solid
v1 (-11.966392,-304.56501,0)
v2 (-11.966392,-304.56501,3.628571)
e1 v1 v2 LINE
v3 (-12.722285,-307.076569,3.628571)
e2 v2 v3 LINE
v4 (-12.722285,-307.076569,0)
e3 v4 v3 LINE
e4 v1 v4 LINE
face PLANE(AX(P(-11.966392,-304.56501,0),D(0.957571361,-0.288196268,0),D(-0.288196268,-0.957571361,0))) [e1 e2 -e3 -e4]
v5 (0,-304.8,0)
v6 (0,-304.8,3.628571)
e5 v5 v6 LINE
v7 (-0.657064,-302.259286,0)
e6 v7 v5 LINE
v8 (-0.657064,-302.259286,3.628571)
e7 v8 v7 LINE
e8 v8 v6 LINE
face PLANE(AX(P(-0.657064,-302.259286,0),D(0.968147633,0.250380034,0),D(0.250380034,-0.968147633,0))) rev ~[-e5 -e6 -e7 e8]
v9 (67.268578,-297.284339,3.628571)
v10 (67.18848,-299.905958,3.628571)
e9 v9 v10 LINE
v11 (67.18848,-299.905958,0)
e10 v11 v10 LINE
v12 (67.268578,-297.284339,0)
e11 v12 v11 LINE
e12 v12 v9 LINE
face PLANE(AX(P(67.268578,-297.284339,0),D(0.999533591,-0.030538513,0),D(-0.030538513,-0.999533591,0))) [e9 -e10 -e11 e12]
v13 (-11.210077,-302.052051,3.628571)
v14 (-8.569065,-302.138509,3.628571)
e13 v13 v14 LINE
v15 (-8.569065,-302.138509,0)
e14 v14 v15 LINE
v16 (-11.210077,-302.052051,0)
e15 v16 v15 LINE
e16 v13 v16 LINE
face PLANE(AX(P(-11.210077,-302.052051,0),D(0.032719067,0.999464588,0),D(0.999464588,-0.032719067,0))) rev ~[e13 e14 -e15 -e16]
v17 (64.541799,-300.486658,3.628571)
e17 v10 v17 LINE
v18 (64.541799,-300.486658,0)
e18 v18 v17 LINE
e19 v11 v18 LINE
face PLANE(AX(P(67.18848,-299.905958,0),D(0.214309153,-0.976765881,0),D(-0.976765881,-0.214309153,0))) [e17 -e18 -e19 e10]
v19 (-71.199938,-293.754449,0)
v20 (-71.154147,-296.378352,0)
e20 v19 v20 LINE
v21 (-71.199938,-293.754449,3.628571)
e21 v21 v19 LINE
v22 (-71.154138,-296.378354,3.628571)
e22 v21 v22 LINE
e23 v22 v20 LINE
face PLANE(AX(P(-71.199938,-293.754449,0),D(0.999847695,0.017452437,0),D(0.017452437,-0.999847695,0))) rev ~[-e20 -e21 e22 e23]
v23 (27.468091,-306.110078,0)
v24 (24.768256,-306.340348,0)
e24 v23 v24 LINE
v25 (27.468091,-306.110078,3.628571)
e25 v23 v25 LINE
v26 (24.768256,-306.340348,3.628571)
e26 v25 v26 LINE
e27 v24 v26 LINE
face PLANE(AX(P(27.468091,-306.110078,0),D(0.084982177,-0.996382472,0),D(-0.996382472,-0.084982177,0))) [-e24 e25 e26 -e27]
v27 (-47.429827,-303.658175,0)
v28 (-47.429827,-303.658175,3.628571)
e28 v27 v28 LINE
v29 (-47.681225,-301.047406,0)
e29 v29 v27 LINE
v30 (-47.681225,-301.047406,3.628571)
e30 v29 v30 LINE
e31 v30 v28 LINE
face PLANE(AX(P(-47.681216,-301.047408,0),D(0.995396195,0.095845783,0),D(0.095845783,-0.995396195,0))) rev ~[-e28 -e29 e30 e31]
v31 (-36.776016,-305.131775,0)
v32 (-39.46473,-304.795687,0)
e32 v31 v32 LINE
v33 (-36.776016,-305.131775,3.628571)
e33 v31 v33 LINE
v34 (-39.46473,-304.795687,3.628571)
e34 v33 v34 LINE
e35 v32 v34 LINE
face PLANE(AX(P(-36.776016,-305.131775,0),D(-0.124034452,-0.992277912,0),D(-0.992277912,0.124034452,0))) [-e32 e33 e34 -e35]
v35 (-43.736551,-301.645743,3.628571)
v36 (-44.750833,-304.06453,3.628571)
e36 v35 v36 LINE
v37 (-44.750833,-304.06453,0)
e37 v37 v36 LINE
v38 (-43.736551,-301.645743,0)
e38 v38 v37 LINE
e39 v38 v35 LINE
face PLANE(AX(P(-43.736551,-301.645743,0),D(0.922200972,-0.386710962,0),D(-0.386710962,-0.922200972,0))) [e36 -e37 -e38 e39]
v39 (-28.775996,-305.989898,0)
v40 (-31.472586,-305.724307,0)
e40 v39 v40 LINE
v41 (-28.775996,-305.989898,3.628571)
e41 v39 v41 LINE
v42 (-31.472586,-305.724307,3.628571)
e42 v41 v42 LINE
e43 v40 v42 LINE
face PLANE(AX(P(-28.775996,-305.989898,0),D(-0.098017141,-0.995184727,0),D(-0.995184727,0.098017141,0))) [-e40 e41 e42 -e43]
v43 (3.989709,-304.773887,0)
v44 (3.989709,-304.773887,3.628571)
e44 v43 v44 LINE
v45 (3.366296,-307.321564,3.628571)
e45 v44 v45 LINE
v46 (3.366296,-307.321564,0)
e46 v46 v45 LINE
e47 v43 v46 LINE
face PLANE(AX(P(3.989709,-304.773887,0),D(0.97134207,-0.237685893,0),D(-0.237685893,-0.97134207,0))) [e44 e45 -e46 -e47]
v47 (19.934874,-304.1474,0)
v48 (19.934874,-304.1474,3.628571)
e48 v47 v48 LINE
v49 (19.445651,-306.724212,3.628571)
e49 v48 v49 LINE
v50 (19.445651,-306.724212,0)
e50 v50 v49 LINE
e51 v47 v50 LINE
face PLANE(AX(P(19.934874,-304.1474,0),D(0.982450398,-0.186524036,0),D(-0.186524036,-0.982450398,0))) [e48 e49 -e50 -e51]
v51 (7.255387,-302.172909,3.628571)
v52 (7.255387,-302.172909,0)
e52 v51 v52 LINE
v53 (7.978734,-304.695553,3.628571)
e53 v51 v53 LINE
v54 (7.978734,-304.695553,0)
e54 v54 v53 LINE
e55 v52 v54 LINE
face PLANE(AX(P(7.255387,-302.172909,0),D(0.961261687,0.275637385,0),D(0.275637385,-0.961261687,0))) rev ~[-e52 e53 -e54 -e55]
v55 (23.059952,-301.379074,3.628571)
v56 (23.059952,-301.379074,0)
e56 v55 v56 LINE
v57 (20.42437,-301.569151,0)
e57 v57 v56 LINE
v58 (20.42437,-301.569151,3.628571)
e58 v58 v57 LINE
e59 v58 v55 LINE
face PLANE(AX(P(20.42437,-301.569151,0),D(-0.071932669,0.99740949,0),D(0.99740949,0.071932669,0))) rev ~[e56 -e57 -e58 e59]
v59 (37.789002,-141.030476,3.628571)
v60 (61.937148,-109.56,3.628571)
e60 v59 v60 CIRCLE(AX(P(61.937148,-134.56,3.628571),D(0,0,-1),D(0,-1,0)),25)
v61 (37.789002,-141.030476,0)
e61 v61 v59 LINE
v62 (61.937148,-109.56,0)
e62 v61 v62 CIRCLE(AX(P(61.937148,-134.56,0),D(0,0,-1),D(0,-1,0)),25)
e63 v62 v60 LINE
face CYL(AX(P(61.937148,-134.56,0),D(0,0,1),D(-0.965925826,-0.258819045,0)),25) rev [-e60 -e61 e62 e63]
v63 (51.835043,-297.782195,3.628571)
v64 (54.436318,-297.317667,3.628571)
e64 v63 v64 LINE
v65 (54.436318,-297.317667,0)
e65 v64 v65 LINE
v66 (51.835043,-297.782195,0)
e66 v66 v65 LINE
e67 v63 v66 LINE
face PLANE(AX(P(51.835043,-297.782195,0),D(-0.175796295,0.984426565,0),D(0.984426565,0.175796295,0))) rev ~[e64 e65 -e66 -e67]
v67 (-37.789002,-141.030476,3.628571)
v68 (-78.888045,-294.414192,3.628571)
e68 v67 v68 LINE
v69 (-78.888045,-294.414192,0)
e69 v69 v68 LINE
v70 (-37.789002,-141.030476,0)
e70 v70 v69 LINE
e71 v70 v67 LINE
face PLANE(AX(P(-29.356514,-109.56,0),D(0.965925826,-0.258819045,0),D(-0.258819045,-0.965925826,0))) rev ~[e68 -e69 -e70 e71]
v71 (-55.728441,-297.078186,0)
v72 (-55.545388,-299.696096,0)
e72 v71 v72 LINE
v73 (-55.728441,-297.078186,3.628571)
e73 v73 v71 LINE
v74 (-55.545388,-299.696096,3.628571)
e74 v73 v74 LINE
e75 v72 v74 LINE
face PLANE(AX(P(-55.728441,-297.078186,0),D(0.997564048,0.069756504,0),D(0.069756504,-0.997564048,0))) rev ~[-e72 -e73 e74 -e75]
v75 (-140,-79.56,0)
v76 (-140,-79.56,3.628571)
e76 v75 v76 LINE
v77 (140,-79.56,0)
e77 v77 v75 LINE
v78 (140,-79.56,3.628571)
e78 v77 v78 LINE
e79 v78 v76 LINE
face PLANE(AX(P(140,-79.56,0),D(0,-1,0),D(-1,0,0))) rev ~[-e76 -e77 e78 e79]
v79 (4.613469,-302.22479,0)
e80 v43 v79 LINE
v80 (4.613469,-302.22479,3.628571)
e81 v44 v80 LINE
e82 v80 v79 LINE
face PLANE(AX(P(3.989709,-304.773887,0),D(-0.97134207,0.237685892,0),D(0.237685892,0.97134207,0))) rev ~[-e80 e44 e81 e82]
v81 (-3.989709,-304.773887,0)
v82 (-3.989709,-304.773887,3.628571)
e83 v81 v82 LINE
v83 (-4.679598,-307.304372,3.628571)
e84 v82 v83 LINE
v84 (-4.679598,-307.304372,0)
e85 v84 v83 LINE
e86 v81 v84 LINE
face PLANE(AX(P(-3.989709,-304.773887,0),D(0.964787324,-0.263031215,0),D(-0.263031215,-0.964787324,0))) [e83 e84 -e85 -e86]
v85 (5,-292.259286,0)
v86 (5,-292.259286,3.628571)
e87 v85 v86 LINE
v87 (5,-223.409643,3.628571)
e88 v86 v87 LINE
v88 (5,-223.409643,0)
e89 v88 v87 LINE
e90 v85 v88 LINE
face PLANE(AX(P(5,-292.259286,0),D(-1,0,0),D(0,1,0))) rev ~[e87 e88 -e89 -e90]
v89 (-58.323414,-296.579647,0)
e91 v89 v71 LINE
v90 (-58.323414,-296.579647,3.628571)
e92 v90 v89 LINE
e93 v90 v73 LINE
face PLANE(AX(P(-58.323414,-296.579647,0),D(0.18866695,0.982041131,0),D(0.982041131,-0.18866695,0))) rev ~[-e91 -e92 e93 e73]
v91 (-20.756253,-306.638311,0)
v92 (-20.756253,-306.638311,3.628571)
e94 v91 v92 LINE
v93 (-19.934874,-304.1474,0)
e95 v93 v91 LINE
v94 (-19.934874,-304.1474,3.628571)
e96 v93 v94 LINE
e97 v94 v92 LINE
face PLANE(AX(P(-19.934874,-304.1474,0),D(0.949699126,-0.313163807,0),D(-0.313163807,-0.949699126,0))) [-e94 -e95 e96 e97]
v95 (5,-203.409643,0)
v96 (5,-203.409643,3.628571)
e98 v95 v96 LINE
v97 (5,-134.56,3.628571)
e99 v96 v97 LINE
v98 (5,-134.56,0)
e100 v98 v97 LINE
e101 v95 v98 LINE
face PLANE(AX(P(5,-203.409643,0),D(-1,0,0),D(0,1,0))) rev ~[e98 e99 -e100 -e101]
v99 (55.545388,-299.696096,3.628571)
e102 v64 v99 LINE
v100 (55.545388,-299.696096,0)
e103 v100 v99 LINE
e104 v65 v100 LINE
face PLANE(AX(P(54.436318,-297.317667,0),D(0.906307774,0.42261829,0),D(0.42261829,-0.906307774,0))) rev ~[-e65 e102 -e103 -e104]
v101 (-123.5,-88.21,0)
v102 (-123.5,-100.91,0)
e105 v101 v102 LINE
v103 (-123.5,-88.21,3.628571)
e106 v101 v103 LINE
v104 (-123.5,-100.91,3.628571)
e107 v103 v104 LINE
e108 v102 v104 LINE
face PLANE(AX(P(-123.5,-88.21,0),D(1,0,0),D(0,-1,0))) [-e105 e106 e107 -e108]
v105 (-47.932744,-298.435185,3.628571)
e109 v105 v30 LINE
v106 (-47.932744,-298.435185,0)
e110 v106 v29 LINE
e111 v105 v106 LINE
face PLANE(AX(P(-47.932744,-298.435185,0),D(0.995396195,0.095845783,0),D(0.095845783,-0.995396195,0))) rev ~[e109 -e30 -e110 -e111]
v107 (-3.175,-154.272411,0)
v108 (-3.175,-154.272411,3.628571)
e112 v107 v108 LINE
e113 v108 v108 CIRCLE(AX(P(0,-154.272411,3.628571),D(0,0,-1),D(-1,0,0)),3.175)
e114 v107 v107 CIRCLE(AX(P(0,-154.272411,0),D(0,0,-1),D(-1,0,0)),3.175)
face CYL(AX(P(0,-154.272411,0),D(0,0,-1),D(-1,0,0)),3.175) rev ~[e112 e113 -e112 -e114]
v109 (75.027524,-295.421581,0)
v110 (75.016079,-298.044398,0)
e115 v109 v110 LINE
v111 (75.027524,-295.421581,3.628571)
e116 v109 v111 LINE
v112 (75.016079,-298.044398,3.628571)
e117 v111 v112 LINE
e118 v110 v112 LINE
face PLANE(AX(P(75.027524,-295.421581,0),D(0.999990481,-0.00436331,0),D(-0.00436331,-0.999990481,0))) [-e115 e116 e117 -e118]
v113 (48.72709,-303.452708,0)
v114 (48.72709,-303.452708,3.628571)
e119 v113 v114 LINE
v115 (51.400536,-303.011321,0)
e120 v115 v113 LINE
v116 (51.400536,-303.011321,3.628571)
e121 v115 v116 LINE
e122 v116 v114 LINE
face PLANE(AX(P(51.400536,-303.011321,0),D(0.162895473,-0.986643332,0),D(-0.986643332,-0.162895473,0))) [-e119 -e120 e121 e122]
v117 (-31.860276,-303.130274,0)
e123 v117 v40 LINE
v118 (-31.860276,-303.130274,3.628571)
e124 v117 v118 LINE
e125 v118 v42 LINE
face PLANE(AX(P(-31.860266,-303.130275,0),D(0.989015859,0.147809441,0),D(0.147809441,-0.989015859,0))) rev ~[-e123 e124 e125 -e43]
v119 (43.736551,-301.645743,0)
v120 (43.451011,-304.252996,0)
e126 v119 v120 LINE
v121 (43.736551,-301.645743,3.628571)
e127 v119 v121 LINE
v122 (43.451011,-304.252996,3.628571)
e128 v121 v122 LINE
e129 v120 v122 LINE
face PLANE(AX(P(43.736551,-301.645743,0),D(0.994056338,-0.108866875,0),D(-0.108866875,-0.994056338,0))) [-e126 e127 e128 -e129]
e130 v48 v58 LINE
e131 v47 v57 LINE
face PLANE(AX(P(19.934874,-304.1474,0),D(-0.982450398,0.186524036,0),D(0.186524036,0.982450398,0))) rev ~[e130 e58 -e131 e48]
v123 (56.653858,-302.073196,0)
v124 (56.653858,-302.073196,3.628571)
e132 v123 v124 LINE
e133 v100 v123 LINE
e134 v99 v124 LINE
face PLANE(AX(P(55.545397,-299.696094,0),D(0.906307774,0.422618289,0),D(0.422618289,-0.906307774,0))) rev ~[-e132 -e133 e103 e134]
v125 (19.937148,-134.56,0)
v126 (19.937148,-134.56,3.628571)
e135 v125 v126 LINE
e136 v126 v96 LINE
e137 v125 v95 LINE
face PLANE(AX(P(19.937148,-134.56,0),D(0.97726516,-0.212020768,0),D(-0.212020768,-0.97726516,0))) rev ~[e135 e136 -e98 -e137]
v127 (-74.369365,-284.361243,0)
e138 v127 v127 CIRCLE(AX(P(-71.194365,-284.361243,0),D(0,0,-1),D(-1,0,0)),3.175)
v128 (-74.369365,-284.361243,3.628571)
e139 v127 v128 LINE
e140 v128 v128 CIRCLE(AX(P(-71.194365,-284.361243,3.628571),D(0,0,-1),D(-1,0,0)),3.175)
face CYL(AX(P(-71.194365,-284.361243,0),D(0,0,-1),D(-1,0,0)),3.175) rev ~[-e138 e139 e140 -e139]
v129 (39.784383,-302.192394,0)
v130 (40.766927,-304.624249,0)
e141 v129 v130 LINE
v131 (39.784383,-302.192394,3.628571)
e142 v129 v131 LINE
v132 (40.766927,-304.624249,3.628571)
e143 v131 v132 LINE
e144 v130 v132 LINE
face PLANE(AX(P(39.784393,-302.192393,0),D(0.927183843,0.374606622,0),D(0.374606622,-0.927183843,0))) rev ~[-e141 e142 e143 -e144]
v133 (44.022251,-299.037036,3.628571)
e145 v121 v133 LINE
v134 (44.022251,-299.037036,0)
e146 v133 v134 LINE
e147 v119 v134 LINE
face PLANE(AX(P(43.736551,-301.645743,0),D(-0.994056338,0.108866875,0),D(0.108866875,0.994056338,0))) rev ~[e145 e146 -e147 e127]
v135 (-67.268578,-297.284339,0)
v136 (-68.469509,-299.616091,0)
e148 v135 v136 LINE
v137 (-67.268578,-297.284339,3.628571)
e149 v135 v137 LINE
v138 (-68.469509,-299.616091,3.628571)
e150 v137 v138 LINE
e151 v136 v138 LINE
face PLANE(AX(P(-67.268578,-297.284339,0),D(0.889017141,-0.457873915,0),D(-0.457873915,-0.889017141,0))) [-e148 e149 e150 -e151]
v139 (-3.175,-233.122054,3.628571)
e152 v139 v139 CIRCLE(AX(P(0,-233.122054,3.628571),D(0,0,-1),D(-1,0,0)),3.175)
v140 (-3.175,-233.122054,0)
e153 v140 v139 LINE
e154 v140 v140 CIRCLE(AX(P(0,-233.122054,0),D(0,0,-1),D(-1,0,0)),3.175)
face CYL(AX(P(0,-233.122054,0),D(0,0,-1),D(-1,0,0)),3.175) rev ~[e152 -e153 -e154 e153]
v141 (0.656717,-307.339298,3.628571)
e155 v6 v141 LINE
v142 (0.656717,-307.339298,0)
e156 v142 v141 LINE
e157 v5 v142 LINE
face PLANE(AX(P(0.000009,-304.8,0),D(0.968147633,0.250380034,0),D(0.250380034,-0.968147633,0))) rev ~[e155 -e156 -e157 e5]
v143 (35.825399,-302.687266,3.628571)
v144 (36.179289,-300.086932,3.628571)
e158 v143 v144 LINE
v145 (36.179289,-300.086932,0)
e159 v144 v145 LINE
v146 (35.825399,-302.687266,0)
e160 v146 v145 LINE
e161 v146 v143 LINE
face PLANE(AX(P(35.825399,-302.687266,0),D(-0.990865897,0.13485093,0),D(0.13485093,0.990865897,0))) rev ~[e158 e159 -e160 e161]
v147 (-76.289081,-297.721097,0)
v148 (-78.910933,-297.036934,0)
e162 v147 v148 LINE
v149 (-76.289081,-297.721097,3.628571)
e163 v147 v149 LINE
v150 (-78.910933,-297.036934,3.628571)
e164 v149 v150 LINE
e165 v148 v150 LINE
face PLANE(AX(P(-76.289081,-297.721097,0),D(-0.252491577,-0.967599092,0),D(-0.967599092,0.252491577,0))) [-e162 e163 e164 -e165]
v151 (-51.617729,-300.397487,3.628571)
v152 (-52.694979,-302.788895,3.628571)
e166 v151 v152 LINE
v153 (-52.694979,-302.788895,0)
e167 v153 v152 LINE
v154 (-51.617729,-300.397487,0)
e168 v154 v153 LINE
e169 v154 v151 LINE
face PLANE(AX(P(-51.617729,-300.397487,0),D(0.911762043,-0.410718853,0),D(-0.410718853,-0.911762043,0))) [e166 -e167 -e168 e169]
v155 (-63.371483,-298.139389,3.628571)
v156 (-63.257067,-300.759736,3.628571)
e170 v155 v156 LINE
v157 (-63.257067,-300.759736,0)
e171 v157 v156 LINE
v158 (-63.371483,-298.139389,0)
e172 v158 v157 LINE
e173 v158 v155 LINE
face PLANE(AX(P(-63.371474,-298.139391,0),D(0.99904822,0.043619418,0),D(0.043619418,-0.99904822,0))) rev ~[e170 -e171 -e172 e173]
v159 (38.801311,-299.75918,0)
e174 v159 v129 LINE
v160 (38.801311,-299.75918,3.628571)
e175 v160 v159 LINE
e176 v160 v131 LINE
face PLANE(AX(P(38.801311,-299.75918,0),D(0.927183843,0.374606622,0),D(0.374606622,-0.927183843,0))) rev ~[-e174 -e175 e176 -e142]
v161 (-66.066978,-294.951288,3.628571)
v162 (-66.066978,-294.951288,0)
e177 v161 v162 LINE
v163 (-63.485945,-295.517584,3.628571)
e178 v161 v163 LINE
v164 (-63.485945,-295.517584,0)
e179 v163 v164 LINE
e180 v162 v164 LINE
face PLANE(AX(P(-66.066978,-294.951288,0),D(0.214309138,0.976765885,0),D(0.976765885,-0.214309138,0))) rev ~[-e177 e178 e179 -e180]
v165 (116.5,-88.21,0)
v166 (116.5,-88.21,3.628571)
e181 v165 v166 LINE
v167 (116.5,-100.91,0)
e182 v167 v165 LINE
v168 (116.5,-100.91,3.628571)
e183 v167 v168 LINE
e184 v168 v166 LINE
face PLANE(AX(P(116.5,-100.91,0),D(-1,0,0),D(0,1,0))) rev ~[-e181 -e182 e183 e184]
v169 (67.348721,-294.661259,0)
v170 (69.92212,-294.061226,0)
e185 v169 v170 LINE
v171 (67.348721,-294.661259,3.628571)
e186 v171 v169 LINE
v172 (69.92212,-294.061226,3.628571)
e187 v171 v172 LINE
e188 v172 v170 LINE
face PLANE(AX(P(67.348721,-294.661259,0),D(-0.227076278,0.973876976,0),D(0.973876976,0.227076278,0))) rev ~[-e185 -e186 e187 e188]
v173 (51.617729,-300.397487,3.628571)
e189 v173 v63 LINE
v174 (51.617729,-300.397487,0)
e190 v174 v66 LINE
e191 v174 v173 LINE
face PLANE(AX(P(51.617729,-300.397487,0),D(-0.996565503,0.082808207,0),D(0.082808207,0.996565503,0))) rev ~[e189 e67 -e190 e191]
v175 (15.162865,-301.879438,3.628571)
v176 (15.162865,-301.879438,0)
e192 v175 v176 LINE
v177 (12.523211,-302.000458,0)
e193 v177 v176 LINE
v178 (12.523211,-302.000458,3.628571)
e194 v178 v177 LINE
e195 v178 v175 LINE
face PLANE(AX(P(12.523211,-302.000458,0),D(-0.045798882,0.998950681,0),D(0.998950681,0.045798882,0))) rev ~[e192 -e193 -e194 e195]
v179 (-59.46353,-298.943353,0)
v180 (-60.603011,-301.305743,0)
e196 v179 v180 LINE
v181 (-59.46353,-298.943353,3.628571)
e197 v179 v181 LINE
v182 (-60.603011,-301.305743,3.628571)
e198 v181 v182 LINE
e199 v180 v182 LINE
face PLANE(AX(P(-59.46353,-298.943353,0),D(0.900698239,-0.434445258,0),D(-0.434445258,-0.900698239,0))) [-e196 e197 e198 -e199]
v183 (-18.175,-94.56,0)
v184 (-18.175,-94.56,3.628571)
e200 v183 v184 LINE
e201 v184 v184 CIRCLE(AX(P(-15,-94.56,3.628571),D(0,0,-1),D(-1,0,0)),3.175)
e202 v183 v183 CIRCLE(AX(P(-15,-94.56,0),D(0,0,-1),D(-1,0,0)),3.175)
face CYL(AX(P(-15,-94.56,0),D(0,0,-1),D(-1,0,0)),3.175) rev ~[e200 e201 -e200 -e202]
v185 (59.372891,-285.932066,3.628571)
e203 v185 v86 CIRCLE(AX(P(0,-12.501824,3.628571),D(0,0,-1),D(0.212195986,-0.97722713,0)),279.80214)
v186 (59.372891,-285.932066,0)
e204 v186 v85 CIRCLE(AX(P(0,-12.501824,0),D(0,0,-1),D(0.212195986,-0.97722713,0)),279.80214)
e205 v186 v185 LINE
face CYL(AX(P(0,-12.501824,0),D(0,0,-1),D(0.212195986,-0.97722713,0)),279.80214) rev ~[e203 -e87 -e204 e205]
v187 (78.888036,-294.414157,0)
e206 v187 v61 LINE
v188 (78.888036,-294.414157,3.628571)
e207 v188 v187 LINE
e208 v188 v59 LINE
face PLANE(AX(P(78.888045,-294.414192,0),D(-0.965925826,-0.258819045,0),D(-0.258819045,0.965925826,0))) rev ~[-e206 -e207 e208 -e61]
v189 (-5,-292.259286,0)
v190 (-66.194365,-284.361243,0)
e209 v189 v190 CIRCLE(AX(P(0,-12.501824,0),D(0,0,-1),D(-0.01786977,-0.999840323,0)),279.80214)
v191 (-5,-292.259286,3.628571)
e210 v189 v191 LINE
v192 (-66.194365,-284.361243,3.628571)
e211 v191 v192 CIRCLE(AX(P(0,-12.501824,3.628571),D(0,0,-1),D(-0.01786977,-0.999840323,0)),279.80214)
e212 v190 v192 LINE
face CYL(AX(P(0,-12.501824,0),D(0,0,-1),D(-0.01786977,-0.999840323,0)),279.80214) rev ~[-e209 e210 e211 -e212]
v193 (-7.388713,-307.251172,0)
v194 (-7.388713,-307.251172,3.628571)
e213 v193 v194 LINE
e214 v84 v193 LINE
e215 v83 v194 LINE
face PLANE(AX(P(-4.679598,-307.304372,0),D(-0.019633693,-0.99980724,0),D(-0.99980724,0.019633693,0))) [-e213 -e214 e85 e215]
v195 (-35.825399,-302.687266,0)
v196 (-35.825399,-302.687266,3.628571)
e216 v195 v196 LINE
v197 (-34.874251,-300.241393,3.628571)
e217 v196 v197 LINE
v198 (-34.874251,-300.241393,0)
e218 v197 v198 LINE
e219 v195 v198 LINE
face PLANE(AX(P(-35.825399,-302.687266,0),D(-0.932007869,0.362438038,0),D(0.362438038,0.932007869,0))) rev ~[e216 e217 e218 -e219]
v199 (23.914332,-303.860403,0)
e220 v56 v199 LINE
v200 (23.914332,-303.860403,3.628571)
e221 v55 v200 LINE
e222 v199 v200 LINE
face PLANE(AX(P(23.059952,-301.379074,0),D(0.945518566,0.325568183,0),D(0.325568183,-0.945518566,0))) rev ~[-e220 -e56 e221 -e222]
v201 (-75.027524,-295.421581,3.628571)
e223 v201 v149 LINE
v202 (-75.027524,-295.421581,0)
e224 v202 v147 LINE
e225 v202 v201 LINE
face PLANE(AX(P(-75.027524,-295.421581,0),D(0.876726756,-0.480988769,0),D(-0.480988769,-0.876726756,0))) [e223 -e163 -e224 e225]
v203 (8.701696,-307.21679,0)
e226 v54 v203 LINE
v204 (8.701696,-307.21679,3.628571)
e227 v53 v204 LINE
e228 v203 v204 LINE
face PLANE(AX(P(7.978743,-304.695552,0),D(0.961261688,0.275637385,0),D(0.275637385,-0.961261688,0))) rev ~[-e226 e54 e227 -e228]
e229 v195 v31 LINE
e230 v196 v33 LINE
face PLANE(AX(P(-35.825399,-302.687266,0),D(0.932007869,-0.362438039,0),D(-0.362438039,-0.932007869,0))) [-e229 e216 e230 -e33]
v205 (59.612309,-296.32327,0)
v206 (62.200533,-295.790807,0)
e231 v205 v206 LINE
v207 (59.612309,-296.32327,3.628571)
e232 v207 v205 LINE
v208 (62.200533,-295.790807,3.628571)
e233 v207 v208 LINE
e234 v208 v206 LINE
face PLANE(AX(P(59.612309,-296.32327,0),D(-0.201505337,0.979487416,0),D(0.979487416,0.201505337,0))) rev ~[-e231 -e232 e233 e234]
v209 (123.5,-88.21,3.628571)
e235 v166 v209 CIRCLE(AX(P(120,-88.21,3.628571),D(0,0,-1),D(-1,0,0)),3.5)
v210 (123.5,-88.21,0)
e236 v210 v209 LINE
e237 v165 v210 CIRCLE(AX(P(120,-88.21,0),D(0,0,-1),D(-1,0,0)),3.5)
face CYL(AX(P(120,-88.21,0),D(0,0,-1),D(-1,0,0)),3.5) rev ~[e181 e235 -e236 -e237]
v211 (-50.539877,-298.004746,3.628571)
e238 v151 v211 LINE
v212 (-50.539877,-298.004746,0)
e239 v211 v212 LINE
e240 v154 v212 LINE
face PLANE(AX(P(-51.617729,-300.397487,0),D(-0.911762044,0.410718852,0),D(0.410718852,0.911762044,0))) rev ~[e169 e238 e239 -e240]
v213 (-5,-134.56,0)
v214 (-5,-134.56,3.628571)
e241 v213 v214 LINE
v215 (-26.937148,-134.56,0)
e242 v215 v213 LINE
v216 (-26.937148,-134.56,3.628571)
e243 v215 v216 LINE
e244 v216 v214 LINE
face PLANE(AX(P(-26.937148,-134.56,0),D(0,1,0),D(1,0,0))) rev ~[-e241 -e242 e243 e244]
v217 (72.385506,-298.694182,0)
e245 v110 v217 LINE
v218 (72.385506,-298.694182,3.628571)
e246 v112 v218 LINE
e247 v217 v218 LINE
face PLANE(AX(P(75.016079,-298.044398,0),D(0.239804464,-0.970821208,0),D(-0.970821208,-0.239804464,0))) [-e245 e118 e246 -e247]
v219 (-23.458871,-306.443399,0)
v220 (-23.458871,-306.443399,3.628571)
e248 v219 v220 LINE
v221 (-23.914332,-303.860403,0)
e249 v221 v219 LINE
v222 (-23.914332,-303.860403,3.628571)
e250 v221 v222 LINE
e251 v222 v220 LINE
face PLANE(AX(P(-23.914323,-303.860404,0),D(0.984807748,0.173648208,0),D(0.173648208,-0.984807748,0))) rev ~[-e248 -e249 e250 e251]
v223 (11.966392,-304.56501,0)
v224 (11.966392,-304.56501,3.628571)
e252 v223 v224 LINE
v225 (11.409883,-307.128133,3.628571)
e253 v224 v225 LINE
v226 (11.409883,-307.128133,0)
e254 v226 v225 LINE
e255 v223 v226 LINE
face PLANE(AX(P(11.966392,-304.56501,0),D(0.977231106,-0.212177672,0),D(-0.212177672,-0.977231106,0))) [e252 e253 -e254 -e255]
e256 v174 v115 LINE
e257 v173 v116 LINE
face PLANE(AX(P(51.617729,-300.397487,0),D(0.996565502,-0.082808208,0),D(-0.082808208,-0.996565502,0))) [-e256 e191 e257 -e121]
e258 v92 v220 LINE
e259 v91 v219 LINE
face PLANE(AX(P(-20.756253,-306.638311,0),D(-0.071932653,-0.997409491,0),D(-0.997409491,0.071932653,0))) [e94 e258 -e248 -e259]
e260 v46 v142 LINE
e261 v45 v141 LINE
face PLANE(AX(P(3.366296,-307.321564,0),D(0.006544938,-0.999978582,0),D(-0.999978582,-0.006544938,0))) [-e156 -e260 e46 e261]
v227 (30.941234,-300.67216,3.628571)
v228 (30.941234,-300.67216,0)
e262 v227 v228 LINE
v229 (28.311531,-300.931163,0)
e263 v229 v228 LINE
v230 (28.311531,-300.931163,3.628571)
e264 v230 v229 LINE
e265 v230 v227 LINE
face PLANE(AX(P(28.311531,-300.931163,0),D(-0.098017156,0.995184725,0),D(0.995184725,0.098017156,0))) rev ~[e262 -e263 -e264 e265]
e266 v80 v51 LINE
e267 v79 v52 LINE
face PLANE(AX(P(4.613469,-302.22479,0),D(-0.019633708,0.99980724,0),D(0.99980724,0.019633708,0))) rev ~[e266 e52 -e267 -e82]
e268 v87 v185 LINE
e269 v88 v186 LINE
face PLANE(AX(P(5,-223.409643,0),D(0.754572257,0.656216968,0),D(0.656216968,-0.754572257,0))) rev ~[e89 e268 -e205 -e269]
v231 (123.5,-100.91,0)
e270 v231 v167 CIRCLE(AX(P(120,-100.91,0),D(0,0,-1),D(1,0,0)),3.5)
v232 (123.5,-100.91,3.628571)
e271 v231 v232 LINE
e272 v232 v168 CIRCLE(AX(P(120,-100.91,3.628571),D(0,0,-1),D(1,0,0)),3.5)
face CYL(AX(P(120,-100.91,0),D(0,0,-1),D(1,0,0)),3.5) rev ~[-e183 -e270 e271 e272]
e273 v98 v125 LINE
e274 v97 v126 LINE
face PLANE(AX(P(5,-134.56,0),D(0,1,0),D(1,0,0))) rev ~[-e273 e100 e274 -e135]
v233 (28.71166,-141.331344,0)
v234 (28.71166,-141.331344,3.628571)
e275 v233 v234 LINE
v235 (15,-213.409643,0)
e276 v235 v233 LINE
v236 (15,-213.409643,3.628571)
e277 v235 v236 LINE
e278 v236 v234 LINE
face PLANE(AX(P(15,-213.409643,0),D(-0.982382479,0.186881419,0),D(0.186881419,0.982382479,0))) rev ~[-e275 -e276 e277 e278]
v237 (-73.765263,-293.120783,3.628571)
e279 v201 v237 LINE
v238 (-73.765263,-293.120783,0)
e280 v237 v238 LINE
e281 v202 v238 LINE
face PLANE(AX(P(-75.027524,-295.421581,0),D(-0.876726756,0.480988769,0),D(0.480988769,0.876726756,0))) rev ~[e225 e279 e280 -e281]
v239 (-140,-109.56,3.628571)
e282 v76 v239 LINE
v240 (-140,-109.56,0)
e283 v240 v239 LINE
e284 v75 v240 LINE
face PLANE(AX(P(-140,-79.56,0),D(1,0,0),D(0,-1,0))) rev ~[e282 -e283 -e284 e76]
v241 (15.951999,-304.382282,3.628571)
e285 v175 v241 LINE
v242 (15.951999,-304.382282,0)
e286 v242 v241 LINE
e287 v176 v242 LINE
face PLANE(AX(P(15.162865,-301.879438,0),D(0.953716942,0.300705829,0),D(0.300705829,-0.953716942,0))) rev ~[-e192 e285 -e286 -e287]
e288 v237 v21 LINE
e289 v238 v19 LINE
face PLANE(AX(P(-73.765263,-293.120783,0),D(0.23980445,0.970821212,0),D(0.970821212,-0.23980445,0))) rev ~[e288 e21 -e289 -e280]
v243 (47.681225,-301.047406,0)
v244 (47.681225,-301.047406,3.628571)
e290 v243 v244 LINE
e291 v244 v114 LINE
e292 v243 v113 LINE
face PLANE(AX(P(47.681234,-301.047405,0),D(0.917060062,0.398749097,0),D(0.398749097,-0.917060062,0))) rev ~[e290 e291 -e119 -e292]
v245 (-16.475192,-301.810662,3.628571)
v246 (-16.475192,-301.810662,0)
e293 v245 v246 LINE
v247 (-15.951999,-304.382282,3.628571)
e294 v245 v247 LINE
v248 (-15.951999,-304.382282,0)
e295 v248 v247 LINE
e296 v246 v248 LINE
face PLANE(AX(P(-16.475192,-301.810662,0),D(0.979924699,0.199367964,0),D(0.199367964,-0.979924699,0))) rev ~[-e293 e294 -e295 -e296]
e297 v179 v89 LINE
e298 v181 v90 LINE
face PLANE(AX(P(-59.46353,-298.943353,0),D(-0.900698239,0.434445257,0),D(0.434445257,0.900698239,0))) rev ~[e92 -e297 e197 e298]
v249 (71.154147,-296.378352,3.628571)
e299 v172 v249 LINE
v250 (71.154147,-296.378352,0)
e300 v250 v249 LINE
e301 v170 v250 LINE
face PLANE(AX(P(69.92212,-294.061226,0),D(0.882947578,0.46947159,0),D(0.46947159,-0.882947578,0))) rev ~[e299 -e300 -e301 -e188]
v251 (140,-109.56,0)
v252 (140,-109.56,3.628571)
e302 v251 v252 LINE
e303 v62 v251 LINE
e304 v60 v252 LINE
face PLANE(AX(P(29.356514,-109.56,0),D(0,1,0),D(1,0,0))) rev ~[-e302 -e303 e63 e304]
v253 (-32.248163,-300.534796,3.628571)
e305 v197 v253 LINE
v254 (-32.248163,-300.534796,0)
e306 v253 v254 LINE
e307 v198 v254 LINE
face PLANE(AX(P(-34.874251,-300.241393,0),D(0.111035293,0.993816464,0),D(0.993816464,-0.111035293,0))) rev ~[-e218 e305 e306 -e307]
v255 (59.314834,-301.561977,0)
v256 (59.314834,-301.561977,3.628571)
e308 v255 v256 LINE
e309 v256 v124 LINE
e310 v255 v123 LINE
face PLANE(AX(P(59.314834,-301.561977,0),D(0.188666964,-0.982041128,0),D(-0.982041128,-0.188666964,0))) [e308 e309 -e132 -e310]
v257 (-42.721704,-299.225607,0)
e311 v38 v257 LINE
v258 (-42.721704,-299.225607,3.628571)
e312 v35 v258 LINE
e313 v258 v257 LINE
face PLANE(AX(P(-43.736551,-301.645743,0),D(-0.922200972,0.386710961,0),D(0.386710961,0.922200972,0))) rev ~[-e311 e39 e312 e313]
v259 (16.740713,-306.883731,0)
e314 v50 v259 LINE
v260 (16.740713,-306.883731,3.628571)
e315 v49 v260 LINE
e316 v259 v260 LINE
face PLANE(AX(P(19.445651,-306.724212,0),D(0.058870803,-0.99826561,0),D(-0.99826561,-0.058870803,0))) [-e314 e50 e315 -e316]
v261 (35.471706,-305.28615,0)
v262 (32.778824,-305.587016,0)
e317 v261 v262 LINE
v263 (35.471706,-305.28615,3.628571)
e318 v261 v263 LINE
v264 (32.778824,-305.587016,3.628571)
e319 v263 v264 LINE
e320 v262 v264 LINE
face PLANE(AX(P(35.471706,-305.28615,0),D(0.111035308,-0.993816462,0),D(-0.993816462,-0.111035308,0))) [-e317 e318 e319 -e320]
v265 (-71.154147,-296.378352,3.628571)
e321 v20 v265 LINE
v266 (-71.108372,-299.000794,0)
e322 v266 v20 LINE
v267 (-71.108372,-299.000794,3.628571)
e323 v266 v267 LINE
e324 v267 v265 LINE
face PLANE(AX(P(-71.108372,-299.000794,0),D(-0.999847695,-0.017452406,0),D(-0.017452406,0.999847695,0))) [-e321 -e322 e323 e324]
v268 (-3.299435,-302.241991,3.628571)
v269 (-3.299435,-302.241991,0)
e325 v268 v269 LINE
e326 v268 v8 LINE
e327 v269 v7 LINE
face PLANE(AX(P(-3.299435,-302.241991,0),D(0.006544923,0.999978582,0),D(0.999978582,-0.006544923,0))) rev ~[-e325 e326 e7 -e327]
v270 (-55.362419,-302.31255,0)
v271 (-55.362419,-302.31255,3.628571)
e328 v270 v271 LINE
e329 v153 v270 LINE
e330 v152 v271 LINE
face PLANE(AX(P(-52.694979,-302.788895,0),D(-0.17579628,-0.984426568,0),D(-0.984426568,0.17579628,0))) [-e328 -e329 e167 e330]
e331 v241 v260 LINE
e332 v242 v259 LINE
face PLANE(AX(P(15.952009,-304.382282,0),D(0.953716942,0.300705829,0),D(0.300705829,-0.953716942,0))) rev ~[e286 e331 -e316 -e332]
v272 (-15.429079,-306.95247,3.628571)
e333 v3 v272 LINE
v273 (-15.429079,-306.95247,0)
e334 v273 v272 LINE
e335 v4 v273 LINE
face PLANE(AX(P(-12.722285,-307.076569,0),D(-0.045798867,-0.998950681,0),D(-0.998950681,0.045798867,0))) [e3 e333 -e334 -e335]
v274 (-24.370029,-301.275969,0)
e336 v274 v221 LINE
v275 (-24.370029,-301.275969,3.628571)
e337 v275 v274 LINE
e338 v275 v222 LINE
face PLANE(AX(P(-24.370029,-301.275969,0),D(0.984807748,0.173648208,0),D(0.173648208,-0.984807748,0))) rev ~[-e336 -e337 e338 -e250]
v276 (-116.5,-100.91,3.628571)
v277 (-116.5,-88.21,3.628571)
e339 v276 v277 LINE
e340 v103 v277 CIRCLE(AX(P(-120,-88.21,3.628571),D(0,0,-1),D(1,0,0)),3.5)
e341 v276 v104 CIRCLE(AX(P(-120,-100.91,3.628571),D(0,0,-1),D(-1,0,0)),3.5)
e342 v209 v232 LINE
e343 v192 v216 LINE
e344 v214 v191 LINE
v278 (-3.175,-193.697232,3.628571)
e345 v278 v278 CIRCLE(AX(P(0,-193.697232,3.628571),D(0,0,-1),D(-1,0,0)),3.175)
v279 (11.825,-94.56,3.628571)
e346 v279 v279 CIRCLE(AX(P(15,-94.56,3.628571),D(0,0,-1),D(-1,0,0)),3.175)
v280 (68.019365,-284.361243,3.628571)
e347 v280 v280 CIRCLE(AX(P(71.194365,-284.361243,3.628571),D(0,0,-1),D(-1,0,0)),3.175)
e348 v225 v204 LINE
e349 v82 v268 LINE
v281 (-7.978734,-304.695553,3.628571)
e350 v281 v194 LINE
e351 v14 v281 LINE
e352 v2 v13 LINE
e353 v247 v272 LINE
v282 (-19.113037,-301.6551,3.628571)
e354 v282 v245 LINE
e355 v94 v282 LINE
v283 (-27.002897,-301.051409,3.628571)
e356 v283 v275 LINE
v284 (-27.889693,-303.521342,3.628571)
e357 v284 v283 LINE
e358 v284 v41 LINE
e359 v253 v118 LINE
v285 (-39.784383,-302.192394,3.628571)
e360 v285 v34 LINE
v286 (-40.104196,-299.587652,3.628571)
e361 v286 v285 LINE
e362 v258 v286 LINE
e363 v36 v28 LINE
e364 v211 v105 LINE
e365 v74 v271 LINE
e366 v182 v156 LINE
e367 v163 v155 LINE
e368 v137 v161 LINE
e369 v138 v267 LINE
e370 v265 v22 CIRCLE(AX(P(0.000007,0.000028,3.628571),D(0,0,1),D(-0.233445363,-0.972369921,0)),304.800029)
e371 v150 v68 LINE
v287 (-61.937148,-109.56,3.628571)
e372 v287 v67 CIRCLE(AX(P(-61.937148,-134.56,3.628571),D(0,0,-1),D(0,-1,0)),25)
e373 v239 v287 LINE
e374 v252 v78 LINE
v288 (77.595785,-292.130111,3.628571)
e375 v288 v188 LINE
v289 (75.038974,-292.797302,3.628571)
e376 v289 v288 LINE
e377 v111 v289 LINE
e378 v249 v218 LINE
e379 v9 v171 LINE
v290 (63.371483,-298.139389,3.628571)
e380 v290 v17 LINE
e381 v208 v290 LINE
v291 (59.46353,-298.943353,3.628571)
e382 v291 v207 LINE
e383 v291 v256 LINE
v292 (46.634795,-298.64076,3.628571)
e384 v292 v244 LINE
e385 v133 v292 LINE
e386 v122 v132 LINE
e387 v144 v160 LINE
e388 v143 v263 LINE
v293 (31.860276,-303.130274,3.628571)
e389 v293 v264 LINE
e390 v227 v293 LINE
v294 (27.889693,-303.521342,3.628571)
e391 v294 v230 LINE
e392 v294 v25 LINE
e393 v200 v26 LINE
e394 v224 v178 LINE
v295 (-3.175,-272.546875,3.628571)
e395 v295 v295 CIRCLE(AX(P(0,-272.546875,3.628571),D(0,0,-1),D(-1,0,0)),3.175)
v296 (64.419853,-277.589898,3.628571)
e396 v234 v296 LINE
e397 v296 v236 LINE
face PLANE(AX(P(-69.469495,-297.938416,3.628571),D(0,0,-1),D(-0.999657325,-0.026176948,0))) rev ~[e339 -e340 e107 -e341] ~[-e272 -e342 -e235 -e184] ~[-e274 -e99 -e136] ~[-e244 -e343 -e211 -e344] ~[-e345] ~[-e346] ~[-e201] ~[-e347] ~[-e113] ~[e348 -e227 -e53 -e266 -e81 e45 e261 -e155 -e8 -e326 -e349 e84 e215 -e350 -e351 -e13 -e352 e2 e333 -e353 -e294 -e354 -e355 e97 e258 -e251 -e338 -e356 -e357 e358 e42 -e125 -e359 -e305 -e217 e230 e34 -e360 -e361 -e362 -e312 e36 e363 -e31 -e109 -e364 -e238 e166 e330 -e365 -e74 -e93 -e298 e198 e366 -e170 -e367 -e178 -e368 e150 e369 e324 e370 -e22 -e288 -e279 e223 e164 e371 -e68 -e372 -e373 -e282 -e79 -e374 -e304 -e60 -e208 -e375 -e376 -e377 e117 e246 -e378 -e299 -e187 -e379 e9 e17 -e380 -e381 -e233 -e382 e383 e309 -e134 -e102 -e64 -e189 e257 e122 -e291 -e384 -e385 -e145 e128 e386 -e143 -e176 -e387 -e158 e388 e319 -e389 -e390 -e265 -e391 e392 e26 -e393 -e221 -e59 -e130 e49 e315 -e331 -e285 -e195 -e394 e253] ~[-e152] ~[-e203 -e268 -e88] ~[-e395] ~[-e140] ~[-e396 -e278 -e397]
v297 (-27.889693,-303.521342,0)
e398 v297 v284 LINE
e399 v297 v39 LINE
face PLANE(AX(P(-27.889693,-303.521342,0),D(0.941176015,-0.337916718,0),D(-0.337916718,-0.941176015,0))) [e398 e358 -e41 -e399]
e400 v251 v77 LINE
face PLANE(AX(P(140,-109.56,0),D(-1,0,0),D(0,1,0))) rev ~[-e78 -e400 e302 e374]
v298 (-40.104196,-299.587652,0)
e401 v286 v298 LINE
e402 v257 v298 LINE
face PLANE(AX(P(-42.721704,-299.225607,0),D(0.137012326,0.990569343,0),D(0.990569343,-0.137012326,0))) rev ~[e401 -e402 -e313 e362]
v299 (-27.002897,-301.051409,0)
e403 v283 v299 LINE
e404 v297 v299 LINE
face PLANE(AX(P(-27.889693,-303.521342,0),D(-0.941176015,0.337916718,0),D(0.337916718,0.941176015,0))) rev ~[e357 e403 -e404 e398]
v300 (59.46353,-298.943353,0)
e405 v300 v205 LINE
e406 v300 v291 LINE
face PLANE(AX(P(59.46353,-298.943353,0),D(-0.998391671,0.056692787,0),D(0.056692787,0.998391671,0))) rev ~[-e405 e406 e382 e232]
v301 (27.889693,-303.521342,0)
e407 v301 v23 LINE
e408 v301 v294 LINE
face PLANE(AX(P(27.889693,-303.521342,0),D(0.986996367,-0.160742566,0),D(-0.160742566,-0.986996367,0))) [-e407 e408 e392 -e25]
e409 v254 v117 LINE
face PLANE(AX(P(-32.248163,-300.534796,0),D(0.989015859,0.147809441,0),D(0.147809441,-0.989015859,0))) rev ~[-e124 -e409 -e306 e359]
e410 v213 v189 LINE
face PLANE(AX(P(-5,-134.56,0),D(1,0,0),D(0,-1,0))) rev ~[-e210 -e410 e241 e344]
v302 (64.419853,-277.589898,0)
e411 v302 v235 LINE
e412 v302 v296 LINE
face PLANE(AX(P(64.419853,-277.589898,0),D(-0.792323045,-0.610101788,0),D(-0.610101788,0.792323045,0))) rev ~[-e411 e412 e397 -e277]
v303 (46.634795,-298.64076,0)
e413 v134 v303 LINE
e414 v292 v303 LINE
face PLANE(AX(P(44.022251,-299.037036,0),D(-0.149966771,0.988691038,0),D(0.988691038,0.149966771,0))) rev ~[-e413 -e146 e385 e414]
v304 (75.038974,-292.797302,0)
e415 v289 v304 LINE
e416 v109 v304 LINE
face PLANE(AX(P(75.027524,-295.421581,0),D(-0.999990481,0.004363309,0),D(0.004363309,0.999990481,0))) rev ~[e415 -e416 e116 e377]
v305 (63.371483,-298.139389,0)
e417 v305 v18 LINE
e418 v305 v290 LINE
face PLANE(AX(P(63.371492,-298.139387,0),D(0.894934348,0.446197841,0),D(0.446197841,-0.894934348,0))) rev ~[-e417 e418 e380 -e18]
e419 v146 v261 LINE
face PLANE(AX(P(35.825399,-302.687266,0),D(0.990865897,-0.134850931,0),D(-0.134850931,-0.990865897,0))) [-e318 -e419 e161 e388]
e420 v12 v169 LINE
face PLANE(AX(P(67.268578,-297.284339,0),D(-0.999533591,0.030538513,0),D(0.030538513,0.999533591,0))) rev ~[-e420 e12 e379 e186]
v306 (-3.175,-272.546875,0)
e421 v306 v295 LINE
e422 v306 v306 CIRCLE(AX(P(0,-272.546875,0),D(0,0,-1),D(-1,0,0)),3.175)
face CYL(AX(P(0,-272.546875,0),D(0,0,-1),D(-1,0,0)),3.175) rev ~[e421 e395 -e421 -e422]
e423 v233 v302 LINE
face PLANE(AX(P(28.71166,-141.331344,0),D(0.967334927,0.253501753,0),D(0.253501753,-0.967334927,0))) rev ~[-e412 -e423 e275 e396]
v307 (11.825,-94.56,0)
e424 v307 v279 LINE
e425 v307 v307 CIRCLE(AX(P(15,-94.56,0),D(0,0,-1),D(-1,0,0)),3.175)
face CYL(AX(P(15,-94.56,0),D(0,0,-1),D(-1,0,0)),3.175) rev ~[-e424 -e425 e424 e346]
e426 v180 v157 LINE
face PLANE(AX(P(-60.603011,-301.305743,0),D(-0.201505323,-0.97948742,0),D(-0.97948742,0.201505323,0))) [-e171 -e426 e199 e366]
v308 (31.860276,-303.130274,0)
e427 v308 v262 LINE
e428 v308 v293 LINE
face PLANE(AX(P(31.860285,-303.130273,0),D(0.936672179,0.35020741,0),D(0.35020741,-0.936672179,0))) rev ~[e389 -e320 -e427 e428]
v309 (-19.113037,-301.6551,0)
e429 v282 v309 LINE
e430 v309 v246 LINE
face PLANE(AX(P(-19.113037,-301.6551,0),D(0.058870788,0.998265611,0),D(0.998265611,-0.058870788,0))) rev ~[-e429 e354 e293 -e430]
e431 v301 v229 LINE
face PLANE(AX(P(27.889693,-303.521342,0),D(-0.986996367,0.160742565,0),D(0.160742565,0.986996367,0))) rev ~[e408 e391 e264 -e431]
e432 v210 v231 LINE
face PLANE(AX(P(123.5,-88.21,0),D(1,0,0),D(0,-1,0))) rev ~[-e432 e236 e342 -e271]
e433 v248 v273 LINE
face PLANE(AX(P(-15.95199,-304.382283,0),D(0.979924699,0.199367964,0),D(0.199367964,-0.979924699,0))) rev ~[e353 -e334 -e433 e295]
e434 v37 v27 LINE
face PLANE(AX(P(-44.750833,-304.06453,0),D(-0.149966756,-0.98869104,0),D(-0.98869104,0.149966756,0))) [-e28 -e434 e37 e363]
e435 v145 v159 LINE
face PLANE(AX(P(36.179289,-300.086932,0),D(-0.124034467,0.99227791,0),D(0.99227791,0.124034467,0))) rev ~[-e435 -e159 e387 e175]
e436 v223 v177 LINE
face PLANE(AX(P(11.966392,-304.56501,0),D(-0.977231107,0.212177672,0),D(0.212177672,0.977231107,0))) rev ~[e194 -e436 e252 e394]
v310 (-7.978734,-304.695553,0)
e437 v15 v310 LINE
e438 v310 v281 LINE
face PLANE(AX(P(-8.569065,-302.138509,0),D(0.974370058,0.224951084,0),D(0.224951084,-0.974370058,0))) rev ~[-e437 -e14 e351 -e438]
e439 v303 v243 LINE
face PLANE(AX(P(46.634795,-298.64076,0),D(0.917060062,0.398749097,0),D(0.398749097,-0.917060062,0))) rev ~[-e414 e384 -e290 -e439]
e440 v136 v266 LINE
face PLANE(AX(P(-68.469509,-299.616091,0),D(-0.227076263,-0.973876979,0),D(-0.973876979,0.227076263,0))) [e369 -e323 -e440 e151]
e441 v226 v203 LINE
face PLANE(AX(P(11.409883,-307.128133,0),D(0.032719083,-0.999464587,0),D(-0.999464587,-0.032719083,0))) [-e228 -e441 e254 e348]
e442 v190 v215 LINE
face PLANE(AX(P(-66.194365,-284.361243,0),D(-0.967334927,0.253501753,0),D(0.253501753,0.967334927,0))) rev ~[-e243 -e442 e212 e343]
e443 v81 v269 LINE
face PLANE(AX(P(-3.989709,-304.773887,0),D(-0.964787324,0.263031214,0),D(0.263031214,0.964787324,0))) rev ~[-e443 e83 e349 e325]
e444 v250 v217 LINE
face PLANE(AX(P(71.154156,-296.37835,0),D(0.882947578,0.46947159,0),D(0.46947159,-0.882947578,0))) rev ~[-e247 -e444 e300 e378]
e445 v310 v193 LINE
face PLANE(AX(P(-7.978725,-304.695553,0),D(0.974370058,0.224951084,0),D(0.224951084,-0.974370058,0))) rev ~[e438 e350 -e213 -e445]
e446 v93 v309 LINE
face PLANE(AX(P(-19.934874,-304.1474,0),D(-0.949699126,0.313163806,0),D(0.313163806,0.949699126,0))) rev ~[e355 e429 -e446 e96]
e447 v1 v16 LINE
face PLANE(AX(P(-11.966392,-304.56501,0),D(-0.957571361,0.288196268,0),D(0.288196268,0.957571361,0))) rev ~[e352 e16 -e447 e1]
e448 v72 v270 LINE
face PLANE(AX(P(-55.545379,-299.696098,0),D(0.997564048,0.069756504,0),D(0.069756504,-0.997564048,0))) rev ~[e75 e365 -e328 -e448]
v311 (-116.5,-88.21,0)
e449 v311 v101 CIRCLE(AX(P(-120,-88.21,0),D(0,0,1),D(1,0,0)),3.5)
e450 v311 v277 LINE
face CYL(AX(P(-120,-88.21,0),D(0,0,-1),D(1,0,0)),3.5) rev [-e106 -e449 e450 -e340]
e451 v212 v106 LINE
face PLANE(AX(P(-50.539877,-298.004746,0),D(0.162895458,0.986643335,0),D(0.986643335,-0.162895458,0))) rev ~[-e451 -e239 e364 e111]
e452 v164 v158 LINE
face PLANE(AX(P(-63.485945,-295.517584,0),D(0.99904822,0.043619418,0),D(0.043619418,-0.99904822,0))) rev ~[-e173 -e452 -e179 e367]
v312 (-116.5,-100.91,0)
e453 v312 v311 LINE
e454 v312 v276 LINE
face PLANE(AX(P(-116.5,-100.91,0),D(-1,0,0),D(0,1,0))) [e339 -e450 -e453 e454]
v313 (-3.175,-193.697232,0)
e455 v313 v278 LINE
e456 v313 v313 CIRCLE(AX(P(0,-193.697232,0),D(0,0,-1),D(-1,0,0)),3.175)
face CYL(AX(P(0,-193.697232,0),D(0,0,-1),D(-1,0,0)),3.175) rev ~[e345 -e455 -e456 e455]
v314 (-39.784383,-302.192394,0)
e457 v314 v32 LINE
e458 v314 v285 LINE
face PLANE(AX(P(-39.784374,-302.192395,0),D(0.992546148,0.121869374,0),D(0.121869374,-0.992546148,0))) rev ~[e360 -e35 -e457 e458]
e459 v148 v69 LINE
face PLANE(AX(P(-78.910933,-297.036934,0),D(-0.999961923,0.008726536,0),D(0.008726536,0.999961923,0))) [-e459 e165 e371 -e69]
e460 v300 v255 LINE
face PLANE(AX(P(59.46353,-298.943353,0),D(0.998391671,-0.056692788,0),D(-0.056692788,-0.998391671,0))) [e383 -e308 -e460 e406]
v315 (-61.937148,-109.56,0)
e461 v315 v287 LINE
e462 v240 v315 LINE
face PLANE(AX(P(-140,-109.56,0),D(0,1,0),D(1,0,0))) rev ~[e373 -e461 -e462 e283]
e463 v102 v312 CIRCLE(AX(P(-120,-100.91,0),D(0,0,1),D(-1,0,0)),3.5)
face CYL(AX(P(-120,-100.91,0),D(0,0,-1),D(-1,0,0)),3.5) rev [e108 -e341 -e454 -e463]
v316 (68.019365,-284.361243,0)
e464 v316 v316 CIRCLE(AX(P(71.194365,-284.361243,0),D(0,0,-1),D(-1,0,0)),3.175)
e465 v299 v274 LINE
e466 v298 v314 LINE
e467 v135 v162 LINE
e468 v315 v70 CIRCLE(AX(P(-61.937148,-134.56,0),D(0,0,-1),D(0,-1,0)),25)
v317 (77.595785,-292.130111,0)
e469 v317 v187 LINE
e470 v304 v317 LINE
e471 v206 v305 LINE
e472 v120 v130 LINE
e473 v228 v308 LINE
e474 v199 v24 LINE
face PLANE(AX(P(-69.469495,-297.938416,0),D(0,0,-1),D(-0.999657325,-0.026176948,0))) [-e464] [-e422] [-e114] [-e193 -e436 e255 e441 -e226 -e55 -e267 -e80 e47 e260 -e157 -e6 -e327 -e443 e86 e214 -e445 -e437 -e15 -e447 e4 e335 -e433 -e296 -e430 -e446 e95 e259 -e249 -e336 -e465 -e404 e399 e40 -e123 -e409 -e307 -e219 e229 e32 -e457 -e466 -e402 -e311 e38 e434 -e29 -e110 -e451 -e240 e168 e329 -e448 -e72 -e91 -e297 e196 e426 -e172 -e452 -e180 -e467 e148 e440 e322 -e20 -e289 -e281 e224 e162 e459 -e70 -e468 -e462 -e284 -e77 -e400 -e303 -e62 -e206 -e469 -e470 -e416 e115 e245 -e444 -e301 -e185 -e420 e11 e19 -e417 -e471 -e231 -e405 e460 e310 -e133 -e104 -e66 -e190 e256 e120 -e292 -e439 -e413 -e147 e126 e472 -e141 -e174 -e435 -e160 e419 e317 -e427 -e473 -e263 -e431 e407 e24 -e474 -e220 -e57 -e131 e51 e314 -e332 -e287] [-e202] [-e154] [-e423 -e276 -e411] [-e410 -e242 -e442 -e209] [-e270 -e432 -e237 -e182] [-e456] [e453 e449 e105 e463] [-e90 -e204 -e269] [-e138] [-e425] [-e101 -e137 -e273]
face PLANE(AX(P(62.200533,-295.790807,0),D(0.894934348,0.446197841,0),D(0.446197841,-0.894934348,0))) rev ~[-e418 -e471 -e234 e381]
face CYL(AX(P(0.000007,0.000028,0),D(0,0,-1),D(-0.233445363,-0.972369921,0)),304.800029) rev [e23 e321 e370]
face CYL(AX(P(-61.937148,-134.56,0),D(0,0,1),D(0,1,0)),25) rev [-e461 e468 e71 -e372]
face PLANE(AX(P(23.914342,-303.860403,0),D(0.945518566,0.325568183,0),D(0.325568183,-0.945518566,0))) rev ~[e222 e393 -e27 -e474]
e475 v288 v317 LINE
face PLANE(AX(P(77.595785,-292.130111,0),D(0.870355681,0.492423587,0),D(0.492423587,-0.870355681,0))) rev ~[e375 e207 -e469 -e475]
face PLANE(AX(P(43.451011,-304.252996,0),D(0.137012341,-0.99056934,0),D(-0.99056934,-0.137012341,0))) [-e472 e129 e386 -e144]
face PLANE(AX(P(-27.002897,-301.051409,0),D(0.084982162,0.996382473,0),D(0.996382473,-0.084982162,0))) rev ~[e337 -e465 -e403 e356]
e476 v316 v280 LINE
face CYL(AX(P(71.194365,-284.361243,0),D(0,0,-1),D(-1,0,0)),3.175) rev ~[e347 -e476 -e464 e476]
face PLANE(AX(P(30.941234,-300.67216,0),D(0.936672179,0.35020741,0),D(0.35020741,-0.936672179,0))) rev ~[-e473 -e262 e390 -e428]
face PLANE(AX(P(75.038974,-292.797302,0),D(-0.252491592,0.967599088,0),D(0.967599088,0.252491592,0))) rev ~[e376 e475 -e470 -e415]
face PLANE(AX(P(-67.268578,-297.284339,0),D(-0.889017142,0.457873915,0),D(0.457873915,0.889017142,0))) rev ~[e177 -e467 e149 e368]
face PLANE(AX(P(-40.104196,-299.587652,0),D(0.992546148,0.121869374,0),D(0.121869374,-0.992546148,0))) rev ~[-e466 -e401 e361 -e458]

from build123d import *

# Parameters (mm, degrees)
BOSS_EXTRUDE2_DEPTH = 3.628571429
FILLET1_R           = 25
BOSS_EXTRUDE4_DEPTH = 3.628571429
CUT_EXTRUDE2_DEPTH  = 336.434355024
CIRPATTERN8_COUNT   = 20
CIRPATTERN8_ANGLE   = 28.5
SKETCH5_R           = 3.175
CUT_EXTRUDE3_DEPTH  = 338.743409804
SKETCH17_R          = 3.175
CUT_EXTRUDE4_DEPTH  = 338.743409804


with BuildPart() as part:
    # Sketch3 → Boss-Extrude2 (new body)
    with BuildSketch(Plane.XY):
        with BuildLine():
            Line((-140, -79.56), (-140, -109.56))
            Line((-140, -109.56), (-29.356513523, -109.56))
            Line((-29.356513523, -109.56), (-78.888044947, -294.414191853))
            ThreePointArc((-78.888044947, -294.414191853), (0, -304.8), (78.888044947, -294.414191853))
            Line((78.888044947, -294.414191853), (29.356513523, -109.56))
            Line((29.356513523, -109.56), (140, -109.56))
            Line((140, -109.56), (140, -79.56))
            Line((140, -79.56), (-140, -79.56))
        make_face()
    extrude(amount=BOSS_EXTRUDE2_DEPTH)

    # Fillet1
    fillet1_edges = [part.edges().sort_by_distance(p)[0] for p in [
        (29.356513523, -109.56, 1.814285714),
        (-29.356513523, -109.56, 1.814285714),
    ]]
    fillet(fillet1_edges, radius=FILLET1_R)

    # Sketch14 → Boss-Extrude4 (add)
    with BuildSketch(Plane(origin=(0, 0, 0), x_dir=(-1, 0, 0), z_dir=(0, 0, -1))):
        with BuildLine():
            Line((78.910933272, -297.036934084), (78.888044947, -294.414191853))
            ThreePointArc((78.888044947, -294.414191853), (76.959432674, -294.924203351), (75.027523715, -295.421581279))
            Line((75.027523715, -295.421581279), (76.289081309, -297.721097125))
            Line((76.289081309, -297.721097125), (78.910933272, -297.036934084))
        make_face()
    boss_extrude4 = extrude(amount=-BOSS_EXTRUDE4_DEPTH)

    # Sketch16 → Cut-Extrude2 (cut, symmetric)
    with BuildSketch(Plane(origin=(0, 0, 0), x_dir=(-1, 0, 0), z_dir=(0, 0, -1))):
        Polygon((372.937709596, -838.440145613), (75.027523715, -295.421581279), (73.765262731, -293.12078332), (71.19993834, -293.754449124), (71.154137831, -296.378353915), (60.344615656, -915.654378233), (357.400151379, -2118.250141136), (669.993245319, -2041.035908516), align=None)
    cut_extrude2 = extrude(amount=CUT_EXTRUDE2_DEPTH, both=True, mode=Mode.SUBTRACT)

    # CirPattern8: Boss-Extrude4, Cut-Extrude2 ×20 about axis
    cirpattern8_axis = Axis((0, 0, 0), (0, 0, 1))
    add([boss_extrude4.rotate(cirpattern8_axis, i * CIRPATTERN8_ANGLE / (CIRPATTERN8_COUNT - 1)) for i in range(1, CIRPATTERN8_COUNT)])
    add([cut_extrude2.rotate(cirpattern8_axis, i * CIRPATTERN8_ANGLE / (CIRPATTERN8_COUNT - 1)) for i in range(1, CIRPATTERN8_COUNT)], mode=Mode.SUBTRACT)

    # Sketch5 → Cut-Extrude3 (cut, through all)
    with BuildSketch(Plane(origin=(0, 0, 0), x_dir=(-1, 0, 0), z_dir=(0, 0, -1))):
        with Locations((-15, -94.56)):
            Circle(SKETCH5_R)
        with Locations((15, -94.56)):
            Circle(SKETCH5_R)
        with BuildLine():
            Line((-123.5, -94.56), (-123.5, -100.91))
            ThreePointArc((-123.5, -100.91), (-120, -104.41), (-116.5, -100.91))
            Line((-116.5, -100.91), (-116.5, -94.56))
            Line((-116.5, -94.56), (-116.5, -88.21))
            ThreePointArc((-116.5, -88.21), (-120, -84.71), (-123.5, -88.21))
            Line((-123.5, -88.21), (-123.5, -94.56))
        make_face()
        with BuildLine():
            Line((116.5, -94.56), (116.5, -88.21))
            ThreePointArc((116.5, -88.21), (120, -84.71), (123.5, -88.21))
            Line((123.5, -88.21), (123.5, -94.56))
            Line((123.5, -94.56), (123.5, -100.91))
            ThreePointArc((123.5, -100.91), (120, -104.41), (116.5, -100.91))
            Line((116.5, -100.91), (116.5, -94.56))
        make_face()
    extrude(amount=-CUT_EXTRUDE3_DEPTH, mode=Mode.SUBTRACT)

    # Sketch17 → Cut-Extrude4 (cut, through all)
    with BuildSketch(Plane(origin=(0, 0, 0), x_dir=(-1, 0, 0), z_dir=(0, 0, -1))):
        with BuildLine():
            Line((66.194365296, -284.361242536), (26.937147844, -134.56))
            Line((26.937147844, -134.56), (5, -134.56))
            Line((5, -134.56), (5, -292.259285824))
            ThreePointArc((5, -292.259285824), (35.815557854, -290.00224429), (66.194365296, -284.361242536))
        make_face()
        Polygon((-28.711660115, -141.33134449), (-64.419853025, -277.589898046), (-15, -213.409642912), align=None)
        with BuildLine():
            Line((-5, -223.409642912), (-59.372890863, -285.932066063))
            ThreePointArc((-59.372890863, -285.932066063), (-32.341547535, -290.428544105), (-5, -292.259285824))
            Line((-5, -292.259285824), (-5, -223.409642912))
        make_face()
        Polygon((-19.937147844, -134.56), (-5, -203.409642912), (-5, -134.56), align=None)
        with Locations((0, -272.546875096)):
            Circle(SKETCH17_R)
        with Locations((0, -233.12205364)):
            Circle(SKETCH17_R)
        with Locations((0, -193.697232184)):
            Circle(SKETCH17_R)
        with Locations((0, -154.272410728)):
            Circle(SKETCH17_R)
        with Locations((-71.194365296, -284.361242536)):
            Circle(SKETCH17_R)
        with Locations((71.194365296, -284.361242536)):
            Circle(SKETCH17_R)
    extrude(amount=-CUT_EXTRUDE4_DEPTH, mode=Mode.SUBTRACT)


solid = part.part
